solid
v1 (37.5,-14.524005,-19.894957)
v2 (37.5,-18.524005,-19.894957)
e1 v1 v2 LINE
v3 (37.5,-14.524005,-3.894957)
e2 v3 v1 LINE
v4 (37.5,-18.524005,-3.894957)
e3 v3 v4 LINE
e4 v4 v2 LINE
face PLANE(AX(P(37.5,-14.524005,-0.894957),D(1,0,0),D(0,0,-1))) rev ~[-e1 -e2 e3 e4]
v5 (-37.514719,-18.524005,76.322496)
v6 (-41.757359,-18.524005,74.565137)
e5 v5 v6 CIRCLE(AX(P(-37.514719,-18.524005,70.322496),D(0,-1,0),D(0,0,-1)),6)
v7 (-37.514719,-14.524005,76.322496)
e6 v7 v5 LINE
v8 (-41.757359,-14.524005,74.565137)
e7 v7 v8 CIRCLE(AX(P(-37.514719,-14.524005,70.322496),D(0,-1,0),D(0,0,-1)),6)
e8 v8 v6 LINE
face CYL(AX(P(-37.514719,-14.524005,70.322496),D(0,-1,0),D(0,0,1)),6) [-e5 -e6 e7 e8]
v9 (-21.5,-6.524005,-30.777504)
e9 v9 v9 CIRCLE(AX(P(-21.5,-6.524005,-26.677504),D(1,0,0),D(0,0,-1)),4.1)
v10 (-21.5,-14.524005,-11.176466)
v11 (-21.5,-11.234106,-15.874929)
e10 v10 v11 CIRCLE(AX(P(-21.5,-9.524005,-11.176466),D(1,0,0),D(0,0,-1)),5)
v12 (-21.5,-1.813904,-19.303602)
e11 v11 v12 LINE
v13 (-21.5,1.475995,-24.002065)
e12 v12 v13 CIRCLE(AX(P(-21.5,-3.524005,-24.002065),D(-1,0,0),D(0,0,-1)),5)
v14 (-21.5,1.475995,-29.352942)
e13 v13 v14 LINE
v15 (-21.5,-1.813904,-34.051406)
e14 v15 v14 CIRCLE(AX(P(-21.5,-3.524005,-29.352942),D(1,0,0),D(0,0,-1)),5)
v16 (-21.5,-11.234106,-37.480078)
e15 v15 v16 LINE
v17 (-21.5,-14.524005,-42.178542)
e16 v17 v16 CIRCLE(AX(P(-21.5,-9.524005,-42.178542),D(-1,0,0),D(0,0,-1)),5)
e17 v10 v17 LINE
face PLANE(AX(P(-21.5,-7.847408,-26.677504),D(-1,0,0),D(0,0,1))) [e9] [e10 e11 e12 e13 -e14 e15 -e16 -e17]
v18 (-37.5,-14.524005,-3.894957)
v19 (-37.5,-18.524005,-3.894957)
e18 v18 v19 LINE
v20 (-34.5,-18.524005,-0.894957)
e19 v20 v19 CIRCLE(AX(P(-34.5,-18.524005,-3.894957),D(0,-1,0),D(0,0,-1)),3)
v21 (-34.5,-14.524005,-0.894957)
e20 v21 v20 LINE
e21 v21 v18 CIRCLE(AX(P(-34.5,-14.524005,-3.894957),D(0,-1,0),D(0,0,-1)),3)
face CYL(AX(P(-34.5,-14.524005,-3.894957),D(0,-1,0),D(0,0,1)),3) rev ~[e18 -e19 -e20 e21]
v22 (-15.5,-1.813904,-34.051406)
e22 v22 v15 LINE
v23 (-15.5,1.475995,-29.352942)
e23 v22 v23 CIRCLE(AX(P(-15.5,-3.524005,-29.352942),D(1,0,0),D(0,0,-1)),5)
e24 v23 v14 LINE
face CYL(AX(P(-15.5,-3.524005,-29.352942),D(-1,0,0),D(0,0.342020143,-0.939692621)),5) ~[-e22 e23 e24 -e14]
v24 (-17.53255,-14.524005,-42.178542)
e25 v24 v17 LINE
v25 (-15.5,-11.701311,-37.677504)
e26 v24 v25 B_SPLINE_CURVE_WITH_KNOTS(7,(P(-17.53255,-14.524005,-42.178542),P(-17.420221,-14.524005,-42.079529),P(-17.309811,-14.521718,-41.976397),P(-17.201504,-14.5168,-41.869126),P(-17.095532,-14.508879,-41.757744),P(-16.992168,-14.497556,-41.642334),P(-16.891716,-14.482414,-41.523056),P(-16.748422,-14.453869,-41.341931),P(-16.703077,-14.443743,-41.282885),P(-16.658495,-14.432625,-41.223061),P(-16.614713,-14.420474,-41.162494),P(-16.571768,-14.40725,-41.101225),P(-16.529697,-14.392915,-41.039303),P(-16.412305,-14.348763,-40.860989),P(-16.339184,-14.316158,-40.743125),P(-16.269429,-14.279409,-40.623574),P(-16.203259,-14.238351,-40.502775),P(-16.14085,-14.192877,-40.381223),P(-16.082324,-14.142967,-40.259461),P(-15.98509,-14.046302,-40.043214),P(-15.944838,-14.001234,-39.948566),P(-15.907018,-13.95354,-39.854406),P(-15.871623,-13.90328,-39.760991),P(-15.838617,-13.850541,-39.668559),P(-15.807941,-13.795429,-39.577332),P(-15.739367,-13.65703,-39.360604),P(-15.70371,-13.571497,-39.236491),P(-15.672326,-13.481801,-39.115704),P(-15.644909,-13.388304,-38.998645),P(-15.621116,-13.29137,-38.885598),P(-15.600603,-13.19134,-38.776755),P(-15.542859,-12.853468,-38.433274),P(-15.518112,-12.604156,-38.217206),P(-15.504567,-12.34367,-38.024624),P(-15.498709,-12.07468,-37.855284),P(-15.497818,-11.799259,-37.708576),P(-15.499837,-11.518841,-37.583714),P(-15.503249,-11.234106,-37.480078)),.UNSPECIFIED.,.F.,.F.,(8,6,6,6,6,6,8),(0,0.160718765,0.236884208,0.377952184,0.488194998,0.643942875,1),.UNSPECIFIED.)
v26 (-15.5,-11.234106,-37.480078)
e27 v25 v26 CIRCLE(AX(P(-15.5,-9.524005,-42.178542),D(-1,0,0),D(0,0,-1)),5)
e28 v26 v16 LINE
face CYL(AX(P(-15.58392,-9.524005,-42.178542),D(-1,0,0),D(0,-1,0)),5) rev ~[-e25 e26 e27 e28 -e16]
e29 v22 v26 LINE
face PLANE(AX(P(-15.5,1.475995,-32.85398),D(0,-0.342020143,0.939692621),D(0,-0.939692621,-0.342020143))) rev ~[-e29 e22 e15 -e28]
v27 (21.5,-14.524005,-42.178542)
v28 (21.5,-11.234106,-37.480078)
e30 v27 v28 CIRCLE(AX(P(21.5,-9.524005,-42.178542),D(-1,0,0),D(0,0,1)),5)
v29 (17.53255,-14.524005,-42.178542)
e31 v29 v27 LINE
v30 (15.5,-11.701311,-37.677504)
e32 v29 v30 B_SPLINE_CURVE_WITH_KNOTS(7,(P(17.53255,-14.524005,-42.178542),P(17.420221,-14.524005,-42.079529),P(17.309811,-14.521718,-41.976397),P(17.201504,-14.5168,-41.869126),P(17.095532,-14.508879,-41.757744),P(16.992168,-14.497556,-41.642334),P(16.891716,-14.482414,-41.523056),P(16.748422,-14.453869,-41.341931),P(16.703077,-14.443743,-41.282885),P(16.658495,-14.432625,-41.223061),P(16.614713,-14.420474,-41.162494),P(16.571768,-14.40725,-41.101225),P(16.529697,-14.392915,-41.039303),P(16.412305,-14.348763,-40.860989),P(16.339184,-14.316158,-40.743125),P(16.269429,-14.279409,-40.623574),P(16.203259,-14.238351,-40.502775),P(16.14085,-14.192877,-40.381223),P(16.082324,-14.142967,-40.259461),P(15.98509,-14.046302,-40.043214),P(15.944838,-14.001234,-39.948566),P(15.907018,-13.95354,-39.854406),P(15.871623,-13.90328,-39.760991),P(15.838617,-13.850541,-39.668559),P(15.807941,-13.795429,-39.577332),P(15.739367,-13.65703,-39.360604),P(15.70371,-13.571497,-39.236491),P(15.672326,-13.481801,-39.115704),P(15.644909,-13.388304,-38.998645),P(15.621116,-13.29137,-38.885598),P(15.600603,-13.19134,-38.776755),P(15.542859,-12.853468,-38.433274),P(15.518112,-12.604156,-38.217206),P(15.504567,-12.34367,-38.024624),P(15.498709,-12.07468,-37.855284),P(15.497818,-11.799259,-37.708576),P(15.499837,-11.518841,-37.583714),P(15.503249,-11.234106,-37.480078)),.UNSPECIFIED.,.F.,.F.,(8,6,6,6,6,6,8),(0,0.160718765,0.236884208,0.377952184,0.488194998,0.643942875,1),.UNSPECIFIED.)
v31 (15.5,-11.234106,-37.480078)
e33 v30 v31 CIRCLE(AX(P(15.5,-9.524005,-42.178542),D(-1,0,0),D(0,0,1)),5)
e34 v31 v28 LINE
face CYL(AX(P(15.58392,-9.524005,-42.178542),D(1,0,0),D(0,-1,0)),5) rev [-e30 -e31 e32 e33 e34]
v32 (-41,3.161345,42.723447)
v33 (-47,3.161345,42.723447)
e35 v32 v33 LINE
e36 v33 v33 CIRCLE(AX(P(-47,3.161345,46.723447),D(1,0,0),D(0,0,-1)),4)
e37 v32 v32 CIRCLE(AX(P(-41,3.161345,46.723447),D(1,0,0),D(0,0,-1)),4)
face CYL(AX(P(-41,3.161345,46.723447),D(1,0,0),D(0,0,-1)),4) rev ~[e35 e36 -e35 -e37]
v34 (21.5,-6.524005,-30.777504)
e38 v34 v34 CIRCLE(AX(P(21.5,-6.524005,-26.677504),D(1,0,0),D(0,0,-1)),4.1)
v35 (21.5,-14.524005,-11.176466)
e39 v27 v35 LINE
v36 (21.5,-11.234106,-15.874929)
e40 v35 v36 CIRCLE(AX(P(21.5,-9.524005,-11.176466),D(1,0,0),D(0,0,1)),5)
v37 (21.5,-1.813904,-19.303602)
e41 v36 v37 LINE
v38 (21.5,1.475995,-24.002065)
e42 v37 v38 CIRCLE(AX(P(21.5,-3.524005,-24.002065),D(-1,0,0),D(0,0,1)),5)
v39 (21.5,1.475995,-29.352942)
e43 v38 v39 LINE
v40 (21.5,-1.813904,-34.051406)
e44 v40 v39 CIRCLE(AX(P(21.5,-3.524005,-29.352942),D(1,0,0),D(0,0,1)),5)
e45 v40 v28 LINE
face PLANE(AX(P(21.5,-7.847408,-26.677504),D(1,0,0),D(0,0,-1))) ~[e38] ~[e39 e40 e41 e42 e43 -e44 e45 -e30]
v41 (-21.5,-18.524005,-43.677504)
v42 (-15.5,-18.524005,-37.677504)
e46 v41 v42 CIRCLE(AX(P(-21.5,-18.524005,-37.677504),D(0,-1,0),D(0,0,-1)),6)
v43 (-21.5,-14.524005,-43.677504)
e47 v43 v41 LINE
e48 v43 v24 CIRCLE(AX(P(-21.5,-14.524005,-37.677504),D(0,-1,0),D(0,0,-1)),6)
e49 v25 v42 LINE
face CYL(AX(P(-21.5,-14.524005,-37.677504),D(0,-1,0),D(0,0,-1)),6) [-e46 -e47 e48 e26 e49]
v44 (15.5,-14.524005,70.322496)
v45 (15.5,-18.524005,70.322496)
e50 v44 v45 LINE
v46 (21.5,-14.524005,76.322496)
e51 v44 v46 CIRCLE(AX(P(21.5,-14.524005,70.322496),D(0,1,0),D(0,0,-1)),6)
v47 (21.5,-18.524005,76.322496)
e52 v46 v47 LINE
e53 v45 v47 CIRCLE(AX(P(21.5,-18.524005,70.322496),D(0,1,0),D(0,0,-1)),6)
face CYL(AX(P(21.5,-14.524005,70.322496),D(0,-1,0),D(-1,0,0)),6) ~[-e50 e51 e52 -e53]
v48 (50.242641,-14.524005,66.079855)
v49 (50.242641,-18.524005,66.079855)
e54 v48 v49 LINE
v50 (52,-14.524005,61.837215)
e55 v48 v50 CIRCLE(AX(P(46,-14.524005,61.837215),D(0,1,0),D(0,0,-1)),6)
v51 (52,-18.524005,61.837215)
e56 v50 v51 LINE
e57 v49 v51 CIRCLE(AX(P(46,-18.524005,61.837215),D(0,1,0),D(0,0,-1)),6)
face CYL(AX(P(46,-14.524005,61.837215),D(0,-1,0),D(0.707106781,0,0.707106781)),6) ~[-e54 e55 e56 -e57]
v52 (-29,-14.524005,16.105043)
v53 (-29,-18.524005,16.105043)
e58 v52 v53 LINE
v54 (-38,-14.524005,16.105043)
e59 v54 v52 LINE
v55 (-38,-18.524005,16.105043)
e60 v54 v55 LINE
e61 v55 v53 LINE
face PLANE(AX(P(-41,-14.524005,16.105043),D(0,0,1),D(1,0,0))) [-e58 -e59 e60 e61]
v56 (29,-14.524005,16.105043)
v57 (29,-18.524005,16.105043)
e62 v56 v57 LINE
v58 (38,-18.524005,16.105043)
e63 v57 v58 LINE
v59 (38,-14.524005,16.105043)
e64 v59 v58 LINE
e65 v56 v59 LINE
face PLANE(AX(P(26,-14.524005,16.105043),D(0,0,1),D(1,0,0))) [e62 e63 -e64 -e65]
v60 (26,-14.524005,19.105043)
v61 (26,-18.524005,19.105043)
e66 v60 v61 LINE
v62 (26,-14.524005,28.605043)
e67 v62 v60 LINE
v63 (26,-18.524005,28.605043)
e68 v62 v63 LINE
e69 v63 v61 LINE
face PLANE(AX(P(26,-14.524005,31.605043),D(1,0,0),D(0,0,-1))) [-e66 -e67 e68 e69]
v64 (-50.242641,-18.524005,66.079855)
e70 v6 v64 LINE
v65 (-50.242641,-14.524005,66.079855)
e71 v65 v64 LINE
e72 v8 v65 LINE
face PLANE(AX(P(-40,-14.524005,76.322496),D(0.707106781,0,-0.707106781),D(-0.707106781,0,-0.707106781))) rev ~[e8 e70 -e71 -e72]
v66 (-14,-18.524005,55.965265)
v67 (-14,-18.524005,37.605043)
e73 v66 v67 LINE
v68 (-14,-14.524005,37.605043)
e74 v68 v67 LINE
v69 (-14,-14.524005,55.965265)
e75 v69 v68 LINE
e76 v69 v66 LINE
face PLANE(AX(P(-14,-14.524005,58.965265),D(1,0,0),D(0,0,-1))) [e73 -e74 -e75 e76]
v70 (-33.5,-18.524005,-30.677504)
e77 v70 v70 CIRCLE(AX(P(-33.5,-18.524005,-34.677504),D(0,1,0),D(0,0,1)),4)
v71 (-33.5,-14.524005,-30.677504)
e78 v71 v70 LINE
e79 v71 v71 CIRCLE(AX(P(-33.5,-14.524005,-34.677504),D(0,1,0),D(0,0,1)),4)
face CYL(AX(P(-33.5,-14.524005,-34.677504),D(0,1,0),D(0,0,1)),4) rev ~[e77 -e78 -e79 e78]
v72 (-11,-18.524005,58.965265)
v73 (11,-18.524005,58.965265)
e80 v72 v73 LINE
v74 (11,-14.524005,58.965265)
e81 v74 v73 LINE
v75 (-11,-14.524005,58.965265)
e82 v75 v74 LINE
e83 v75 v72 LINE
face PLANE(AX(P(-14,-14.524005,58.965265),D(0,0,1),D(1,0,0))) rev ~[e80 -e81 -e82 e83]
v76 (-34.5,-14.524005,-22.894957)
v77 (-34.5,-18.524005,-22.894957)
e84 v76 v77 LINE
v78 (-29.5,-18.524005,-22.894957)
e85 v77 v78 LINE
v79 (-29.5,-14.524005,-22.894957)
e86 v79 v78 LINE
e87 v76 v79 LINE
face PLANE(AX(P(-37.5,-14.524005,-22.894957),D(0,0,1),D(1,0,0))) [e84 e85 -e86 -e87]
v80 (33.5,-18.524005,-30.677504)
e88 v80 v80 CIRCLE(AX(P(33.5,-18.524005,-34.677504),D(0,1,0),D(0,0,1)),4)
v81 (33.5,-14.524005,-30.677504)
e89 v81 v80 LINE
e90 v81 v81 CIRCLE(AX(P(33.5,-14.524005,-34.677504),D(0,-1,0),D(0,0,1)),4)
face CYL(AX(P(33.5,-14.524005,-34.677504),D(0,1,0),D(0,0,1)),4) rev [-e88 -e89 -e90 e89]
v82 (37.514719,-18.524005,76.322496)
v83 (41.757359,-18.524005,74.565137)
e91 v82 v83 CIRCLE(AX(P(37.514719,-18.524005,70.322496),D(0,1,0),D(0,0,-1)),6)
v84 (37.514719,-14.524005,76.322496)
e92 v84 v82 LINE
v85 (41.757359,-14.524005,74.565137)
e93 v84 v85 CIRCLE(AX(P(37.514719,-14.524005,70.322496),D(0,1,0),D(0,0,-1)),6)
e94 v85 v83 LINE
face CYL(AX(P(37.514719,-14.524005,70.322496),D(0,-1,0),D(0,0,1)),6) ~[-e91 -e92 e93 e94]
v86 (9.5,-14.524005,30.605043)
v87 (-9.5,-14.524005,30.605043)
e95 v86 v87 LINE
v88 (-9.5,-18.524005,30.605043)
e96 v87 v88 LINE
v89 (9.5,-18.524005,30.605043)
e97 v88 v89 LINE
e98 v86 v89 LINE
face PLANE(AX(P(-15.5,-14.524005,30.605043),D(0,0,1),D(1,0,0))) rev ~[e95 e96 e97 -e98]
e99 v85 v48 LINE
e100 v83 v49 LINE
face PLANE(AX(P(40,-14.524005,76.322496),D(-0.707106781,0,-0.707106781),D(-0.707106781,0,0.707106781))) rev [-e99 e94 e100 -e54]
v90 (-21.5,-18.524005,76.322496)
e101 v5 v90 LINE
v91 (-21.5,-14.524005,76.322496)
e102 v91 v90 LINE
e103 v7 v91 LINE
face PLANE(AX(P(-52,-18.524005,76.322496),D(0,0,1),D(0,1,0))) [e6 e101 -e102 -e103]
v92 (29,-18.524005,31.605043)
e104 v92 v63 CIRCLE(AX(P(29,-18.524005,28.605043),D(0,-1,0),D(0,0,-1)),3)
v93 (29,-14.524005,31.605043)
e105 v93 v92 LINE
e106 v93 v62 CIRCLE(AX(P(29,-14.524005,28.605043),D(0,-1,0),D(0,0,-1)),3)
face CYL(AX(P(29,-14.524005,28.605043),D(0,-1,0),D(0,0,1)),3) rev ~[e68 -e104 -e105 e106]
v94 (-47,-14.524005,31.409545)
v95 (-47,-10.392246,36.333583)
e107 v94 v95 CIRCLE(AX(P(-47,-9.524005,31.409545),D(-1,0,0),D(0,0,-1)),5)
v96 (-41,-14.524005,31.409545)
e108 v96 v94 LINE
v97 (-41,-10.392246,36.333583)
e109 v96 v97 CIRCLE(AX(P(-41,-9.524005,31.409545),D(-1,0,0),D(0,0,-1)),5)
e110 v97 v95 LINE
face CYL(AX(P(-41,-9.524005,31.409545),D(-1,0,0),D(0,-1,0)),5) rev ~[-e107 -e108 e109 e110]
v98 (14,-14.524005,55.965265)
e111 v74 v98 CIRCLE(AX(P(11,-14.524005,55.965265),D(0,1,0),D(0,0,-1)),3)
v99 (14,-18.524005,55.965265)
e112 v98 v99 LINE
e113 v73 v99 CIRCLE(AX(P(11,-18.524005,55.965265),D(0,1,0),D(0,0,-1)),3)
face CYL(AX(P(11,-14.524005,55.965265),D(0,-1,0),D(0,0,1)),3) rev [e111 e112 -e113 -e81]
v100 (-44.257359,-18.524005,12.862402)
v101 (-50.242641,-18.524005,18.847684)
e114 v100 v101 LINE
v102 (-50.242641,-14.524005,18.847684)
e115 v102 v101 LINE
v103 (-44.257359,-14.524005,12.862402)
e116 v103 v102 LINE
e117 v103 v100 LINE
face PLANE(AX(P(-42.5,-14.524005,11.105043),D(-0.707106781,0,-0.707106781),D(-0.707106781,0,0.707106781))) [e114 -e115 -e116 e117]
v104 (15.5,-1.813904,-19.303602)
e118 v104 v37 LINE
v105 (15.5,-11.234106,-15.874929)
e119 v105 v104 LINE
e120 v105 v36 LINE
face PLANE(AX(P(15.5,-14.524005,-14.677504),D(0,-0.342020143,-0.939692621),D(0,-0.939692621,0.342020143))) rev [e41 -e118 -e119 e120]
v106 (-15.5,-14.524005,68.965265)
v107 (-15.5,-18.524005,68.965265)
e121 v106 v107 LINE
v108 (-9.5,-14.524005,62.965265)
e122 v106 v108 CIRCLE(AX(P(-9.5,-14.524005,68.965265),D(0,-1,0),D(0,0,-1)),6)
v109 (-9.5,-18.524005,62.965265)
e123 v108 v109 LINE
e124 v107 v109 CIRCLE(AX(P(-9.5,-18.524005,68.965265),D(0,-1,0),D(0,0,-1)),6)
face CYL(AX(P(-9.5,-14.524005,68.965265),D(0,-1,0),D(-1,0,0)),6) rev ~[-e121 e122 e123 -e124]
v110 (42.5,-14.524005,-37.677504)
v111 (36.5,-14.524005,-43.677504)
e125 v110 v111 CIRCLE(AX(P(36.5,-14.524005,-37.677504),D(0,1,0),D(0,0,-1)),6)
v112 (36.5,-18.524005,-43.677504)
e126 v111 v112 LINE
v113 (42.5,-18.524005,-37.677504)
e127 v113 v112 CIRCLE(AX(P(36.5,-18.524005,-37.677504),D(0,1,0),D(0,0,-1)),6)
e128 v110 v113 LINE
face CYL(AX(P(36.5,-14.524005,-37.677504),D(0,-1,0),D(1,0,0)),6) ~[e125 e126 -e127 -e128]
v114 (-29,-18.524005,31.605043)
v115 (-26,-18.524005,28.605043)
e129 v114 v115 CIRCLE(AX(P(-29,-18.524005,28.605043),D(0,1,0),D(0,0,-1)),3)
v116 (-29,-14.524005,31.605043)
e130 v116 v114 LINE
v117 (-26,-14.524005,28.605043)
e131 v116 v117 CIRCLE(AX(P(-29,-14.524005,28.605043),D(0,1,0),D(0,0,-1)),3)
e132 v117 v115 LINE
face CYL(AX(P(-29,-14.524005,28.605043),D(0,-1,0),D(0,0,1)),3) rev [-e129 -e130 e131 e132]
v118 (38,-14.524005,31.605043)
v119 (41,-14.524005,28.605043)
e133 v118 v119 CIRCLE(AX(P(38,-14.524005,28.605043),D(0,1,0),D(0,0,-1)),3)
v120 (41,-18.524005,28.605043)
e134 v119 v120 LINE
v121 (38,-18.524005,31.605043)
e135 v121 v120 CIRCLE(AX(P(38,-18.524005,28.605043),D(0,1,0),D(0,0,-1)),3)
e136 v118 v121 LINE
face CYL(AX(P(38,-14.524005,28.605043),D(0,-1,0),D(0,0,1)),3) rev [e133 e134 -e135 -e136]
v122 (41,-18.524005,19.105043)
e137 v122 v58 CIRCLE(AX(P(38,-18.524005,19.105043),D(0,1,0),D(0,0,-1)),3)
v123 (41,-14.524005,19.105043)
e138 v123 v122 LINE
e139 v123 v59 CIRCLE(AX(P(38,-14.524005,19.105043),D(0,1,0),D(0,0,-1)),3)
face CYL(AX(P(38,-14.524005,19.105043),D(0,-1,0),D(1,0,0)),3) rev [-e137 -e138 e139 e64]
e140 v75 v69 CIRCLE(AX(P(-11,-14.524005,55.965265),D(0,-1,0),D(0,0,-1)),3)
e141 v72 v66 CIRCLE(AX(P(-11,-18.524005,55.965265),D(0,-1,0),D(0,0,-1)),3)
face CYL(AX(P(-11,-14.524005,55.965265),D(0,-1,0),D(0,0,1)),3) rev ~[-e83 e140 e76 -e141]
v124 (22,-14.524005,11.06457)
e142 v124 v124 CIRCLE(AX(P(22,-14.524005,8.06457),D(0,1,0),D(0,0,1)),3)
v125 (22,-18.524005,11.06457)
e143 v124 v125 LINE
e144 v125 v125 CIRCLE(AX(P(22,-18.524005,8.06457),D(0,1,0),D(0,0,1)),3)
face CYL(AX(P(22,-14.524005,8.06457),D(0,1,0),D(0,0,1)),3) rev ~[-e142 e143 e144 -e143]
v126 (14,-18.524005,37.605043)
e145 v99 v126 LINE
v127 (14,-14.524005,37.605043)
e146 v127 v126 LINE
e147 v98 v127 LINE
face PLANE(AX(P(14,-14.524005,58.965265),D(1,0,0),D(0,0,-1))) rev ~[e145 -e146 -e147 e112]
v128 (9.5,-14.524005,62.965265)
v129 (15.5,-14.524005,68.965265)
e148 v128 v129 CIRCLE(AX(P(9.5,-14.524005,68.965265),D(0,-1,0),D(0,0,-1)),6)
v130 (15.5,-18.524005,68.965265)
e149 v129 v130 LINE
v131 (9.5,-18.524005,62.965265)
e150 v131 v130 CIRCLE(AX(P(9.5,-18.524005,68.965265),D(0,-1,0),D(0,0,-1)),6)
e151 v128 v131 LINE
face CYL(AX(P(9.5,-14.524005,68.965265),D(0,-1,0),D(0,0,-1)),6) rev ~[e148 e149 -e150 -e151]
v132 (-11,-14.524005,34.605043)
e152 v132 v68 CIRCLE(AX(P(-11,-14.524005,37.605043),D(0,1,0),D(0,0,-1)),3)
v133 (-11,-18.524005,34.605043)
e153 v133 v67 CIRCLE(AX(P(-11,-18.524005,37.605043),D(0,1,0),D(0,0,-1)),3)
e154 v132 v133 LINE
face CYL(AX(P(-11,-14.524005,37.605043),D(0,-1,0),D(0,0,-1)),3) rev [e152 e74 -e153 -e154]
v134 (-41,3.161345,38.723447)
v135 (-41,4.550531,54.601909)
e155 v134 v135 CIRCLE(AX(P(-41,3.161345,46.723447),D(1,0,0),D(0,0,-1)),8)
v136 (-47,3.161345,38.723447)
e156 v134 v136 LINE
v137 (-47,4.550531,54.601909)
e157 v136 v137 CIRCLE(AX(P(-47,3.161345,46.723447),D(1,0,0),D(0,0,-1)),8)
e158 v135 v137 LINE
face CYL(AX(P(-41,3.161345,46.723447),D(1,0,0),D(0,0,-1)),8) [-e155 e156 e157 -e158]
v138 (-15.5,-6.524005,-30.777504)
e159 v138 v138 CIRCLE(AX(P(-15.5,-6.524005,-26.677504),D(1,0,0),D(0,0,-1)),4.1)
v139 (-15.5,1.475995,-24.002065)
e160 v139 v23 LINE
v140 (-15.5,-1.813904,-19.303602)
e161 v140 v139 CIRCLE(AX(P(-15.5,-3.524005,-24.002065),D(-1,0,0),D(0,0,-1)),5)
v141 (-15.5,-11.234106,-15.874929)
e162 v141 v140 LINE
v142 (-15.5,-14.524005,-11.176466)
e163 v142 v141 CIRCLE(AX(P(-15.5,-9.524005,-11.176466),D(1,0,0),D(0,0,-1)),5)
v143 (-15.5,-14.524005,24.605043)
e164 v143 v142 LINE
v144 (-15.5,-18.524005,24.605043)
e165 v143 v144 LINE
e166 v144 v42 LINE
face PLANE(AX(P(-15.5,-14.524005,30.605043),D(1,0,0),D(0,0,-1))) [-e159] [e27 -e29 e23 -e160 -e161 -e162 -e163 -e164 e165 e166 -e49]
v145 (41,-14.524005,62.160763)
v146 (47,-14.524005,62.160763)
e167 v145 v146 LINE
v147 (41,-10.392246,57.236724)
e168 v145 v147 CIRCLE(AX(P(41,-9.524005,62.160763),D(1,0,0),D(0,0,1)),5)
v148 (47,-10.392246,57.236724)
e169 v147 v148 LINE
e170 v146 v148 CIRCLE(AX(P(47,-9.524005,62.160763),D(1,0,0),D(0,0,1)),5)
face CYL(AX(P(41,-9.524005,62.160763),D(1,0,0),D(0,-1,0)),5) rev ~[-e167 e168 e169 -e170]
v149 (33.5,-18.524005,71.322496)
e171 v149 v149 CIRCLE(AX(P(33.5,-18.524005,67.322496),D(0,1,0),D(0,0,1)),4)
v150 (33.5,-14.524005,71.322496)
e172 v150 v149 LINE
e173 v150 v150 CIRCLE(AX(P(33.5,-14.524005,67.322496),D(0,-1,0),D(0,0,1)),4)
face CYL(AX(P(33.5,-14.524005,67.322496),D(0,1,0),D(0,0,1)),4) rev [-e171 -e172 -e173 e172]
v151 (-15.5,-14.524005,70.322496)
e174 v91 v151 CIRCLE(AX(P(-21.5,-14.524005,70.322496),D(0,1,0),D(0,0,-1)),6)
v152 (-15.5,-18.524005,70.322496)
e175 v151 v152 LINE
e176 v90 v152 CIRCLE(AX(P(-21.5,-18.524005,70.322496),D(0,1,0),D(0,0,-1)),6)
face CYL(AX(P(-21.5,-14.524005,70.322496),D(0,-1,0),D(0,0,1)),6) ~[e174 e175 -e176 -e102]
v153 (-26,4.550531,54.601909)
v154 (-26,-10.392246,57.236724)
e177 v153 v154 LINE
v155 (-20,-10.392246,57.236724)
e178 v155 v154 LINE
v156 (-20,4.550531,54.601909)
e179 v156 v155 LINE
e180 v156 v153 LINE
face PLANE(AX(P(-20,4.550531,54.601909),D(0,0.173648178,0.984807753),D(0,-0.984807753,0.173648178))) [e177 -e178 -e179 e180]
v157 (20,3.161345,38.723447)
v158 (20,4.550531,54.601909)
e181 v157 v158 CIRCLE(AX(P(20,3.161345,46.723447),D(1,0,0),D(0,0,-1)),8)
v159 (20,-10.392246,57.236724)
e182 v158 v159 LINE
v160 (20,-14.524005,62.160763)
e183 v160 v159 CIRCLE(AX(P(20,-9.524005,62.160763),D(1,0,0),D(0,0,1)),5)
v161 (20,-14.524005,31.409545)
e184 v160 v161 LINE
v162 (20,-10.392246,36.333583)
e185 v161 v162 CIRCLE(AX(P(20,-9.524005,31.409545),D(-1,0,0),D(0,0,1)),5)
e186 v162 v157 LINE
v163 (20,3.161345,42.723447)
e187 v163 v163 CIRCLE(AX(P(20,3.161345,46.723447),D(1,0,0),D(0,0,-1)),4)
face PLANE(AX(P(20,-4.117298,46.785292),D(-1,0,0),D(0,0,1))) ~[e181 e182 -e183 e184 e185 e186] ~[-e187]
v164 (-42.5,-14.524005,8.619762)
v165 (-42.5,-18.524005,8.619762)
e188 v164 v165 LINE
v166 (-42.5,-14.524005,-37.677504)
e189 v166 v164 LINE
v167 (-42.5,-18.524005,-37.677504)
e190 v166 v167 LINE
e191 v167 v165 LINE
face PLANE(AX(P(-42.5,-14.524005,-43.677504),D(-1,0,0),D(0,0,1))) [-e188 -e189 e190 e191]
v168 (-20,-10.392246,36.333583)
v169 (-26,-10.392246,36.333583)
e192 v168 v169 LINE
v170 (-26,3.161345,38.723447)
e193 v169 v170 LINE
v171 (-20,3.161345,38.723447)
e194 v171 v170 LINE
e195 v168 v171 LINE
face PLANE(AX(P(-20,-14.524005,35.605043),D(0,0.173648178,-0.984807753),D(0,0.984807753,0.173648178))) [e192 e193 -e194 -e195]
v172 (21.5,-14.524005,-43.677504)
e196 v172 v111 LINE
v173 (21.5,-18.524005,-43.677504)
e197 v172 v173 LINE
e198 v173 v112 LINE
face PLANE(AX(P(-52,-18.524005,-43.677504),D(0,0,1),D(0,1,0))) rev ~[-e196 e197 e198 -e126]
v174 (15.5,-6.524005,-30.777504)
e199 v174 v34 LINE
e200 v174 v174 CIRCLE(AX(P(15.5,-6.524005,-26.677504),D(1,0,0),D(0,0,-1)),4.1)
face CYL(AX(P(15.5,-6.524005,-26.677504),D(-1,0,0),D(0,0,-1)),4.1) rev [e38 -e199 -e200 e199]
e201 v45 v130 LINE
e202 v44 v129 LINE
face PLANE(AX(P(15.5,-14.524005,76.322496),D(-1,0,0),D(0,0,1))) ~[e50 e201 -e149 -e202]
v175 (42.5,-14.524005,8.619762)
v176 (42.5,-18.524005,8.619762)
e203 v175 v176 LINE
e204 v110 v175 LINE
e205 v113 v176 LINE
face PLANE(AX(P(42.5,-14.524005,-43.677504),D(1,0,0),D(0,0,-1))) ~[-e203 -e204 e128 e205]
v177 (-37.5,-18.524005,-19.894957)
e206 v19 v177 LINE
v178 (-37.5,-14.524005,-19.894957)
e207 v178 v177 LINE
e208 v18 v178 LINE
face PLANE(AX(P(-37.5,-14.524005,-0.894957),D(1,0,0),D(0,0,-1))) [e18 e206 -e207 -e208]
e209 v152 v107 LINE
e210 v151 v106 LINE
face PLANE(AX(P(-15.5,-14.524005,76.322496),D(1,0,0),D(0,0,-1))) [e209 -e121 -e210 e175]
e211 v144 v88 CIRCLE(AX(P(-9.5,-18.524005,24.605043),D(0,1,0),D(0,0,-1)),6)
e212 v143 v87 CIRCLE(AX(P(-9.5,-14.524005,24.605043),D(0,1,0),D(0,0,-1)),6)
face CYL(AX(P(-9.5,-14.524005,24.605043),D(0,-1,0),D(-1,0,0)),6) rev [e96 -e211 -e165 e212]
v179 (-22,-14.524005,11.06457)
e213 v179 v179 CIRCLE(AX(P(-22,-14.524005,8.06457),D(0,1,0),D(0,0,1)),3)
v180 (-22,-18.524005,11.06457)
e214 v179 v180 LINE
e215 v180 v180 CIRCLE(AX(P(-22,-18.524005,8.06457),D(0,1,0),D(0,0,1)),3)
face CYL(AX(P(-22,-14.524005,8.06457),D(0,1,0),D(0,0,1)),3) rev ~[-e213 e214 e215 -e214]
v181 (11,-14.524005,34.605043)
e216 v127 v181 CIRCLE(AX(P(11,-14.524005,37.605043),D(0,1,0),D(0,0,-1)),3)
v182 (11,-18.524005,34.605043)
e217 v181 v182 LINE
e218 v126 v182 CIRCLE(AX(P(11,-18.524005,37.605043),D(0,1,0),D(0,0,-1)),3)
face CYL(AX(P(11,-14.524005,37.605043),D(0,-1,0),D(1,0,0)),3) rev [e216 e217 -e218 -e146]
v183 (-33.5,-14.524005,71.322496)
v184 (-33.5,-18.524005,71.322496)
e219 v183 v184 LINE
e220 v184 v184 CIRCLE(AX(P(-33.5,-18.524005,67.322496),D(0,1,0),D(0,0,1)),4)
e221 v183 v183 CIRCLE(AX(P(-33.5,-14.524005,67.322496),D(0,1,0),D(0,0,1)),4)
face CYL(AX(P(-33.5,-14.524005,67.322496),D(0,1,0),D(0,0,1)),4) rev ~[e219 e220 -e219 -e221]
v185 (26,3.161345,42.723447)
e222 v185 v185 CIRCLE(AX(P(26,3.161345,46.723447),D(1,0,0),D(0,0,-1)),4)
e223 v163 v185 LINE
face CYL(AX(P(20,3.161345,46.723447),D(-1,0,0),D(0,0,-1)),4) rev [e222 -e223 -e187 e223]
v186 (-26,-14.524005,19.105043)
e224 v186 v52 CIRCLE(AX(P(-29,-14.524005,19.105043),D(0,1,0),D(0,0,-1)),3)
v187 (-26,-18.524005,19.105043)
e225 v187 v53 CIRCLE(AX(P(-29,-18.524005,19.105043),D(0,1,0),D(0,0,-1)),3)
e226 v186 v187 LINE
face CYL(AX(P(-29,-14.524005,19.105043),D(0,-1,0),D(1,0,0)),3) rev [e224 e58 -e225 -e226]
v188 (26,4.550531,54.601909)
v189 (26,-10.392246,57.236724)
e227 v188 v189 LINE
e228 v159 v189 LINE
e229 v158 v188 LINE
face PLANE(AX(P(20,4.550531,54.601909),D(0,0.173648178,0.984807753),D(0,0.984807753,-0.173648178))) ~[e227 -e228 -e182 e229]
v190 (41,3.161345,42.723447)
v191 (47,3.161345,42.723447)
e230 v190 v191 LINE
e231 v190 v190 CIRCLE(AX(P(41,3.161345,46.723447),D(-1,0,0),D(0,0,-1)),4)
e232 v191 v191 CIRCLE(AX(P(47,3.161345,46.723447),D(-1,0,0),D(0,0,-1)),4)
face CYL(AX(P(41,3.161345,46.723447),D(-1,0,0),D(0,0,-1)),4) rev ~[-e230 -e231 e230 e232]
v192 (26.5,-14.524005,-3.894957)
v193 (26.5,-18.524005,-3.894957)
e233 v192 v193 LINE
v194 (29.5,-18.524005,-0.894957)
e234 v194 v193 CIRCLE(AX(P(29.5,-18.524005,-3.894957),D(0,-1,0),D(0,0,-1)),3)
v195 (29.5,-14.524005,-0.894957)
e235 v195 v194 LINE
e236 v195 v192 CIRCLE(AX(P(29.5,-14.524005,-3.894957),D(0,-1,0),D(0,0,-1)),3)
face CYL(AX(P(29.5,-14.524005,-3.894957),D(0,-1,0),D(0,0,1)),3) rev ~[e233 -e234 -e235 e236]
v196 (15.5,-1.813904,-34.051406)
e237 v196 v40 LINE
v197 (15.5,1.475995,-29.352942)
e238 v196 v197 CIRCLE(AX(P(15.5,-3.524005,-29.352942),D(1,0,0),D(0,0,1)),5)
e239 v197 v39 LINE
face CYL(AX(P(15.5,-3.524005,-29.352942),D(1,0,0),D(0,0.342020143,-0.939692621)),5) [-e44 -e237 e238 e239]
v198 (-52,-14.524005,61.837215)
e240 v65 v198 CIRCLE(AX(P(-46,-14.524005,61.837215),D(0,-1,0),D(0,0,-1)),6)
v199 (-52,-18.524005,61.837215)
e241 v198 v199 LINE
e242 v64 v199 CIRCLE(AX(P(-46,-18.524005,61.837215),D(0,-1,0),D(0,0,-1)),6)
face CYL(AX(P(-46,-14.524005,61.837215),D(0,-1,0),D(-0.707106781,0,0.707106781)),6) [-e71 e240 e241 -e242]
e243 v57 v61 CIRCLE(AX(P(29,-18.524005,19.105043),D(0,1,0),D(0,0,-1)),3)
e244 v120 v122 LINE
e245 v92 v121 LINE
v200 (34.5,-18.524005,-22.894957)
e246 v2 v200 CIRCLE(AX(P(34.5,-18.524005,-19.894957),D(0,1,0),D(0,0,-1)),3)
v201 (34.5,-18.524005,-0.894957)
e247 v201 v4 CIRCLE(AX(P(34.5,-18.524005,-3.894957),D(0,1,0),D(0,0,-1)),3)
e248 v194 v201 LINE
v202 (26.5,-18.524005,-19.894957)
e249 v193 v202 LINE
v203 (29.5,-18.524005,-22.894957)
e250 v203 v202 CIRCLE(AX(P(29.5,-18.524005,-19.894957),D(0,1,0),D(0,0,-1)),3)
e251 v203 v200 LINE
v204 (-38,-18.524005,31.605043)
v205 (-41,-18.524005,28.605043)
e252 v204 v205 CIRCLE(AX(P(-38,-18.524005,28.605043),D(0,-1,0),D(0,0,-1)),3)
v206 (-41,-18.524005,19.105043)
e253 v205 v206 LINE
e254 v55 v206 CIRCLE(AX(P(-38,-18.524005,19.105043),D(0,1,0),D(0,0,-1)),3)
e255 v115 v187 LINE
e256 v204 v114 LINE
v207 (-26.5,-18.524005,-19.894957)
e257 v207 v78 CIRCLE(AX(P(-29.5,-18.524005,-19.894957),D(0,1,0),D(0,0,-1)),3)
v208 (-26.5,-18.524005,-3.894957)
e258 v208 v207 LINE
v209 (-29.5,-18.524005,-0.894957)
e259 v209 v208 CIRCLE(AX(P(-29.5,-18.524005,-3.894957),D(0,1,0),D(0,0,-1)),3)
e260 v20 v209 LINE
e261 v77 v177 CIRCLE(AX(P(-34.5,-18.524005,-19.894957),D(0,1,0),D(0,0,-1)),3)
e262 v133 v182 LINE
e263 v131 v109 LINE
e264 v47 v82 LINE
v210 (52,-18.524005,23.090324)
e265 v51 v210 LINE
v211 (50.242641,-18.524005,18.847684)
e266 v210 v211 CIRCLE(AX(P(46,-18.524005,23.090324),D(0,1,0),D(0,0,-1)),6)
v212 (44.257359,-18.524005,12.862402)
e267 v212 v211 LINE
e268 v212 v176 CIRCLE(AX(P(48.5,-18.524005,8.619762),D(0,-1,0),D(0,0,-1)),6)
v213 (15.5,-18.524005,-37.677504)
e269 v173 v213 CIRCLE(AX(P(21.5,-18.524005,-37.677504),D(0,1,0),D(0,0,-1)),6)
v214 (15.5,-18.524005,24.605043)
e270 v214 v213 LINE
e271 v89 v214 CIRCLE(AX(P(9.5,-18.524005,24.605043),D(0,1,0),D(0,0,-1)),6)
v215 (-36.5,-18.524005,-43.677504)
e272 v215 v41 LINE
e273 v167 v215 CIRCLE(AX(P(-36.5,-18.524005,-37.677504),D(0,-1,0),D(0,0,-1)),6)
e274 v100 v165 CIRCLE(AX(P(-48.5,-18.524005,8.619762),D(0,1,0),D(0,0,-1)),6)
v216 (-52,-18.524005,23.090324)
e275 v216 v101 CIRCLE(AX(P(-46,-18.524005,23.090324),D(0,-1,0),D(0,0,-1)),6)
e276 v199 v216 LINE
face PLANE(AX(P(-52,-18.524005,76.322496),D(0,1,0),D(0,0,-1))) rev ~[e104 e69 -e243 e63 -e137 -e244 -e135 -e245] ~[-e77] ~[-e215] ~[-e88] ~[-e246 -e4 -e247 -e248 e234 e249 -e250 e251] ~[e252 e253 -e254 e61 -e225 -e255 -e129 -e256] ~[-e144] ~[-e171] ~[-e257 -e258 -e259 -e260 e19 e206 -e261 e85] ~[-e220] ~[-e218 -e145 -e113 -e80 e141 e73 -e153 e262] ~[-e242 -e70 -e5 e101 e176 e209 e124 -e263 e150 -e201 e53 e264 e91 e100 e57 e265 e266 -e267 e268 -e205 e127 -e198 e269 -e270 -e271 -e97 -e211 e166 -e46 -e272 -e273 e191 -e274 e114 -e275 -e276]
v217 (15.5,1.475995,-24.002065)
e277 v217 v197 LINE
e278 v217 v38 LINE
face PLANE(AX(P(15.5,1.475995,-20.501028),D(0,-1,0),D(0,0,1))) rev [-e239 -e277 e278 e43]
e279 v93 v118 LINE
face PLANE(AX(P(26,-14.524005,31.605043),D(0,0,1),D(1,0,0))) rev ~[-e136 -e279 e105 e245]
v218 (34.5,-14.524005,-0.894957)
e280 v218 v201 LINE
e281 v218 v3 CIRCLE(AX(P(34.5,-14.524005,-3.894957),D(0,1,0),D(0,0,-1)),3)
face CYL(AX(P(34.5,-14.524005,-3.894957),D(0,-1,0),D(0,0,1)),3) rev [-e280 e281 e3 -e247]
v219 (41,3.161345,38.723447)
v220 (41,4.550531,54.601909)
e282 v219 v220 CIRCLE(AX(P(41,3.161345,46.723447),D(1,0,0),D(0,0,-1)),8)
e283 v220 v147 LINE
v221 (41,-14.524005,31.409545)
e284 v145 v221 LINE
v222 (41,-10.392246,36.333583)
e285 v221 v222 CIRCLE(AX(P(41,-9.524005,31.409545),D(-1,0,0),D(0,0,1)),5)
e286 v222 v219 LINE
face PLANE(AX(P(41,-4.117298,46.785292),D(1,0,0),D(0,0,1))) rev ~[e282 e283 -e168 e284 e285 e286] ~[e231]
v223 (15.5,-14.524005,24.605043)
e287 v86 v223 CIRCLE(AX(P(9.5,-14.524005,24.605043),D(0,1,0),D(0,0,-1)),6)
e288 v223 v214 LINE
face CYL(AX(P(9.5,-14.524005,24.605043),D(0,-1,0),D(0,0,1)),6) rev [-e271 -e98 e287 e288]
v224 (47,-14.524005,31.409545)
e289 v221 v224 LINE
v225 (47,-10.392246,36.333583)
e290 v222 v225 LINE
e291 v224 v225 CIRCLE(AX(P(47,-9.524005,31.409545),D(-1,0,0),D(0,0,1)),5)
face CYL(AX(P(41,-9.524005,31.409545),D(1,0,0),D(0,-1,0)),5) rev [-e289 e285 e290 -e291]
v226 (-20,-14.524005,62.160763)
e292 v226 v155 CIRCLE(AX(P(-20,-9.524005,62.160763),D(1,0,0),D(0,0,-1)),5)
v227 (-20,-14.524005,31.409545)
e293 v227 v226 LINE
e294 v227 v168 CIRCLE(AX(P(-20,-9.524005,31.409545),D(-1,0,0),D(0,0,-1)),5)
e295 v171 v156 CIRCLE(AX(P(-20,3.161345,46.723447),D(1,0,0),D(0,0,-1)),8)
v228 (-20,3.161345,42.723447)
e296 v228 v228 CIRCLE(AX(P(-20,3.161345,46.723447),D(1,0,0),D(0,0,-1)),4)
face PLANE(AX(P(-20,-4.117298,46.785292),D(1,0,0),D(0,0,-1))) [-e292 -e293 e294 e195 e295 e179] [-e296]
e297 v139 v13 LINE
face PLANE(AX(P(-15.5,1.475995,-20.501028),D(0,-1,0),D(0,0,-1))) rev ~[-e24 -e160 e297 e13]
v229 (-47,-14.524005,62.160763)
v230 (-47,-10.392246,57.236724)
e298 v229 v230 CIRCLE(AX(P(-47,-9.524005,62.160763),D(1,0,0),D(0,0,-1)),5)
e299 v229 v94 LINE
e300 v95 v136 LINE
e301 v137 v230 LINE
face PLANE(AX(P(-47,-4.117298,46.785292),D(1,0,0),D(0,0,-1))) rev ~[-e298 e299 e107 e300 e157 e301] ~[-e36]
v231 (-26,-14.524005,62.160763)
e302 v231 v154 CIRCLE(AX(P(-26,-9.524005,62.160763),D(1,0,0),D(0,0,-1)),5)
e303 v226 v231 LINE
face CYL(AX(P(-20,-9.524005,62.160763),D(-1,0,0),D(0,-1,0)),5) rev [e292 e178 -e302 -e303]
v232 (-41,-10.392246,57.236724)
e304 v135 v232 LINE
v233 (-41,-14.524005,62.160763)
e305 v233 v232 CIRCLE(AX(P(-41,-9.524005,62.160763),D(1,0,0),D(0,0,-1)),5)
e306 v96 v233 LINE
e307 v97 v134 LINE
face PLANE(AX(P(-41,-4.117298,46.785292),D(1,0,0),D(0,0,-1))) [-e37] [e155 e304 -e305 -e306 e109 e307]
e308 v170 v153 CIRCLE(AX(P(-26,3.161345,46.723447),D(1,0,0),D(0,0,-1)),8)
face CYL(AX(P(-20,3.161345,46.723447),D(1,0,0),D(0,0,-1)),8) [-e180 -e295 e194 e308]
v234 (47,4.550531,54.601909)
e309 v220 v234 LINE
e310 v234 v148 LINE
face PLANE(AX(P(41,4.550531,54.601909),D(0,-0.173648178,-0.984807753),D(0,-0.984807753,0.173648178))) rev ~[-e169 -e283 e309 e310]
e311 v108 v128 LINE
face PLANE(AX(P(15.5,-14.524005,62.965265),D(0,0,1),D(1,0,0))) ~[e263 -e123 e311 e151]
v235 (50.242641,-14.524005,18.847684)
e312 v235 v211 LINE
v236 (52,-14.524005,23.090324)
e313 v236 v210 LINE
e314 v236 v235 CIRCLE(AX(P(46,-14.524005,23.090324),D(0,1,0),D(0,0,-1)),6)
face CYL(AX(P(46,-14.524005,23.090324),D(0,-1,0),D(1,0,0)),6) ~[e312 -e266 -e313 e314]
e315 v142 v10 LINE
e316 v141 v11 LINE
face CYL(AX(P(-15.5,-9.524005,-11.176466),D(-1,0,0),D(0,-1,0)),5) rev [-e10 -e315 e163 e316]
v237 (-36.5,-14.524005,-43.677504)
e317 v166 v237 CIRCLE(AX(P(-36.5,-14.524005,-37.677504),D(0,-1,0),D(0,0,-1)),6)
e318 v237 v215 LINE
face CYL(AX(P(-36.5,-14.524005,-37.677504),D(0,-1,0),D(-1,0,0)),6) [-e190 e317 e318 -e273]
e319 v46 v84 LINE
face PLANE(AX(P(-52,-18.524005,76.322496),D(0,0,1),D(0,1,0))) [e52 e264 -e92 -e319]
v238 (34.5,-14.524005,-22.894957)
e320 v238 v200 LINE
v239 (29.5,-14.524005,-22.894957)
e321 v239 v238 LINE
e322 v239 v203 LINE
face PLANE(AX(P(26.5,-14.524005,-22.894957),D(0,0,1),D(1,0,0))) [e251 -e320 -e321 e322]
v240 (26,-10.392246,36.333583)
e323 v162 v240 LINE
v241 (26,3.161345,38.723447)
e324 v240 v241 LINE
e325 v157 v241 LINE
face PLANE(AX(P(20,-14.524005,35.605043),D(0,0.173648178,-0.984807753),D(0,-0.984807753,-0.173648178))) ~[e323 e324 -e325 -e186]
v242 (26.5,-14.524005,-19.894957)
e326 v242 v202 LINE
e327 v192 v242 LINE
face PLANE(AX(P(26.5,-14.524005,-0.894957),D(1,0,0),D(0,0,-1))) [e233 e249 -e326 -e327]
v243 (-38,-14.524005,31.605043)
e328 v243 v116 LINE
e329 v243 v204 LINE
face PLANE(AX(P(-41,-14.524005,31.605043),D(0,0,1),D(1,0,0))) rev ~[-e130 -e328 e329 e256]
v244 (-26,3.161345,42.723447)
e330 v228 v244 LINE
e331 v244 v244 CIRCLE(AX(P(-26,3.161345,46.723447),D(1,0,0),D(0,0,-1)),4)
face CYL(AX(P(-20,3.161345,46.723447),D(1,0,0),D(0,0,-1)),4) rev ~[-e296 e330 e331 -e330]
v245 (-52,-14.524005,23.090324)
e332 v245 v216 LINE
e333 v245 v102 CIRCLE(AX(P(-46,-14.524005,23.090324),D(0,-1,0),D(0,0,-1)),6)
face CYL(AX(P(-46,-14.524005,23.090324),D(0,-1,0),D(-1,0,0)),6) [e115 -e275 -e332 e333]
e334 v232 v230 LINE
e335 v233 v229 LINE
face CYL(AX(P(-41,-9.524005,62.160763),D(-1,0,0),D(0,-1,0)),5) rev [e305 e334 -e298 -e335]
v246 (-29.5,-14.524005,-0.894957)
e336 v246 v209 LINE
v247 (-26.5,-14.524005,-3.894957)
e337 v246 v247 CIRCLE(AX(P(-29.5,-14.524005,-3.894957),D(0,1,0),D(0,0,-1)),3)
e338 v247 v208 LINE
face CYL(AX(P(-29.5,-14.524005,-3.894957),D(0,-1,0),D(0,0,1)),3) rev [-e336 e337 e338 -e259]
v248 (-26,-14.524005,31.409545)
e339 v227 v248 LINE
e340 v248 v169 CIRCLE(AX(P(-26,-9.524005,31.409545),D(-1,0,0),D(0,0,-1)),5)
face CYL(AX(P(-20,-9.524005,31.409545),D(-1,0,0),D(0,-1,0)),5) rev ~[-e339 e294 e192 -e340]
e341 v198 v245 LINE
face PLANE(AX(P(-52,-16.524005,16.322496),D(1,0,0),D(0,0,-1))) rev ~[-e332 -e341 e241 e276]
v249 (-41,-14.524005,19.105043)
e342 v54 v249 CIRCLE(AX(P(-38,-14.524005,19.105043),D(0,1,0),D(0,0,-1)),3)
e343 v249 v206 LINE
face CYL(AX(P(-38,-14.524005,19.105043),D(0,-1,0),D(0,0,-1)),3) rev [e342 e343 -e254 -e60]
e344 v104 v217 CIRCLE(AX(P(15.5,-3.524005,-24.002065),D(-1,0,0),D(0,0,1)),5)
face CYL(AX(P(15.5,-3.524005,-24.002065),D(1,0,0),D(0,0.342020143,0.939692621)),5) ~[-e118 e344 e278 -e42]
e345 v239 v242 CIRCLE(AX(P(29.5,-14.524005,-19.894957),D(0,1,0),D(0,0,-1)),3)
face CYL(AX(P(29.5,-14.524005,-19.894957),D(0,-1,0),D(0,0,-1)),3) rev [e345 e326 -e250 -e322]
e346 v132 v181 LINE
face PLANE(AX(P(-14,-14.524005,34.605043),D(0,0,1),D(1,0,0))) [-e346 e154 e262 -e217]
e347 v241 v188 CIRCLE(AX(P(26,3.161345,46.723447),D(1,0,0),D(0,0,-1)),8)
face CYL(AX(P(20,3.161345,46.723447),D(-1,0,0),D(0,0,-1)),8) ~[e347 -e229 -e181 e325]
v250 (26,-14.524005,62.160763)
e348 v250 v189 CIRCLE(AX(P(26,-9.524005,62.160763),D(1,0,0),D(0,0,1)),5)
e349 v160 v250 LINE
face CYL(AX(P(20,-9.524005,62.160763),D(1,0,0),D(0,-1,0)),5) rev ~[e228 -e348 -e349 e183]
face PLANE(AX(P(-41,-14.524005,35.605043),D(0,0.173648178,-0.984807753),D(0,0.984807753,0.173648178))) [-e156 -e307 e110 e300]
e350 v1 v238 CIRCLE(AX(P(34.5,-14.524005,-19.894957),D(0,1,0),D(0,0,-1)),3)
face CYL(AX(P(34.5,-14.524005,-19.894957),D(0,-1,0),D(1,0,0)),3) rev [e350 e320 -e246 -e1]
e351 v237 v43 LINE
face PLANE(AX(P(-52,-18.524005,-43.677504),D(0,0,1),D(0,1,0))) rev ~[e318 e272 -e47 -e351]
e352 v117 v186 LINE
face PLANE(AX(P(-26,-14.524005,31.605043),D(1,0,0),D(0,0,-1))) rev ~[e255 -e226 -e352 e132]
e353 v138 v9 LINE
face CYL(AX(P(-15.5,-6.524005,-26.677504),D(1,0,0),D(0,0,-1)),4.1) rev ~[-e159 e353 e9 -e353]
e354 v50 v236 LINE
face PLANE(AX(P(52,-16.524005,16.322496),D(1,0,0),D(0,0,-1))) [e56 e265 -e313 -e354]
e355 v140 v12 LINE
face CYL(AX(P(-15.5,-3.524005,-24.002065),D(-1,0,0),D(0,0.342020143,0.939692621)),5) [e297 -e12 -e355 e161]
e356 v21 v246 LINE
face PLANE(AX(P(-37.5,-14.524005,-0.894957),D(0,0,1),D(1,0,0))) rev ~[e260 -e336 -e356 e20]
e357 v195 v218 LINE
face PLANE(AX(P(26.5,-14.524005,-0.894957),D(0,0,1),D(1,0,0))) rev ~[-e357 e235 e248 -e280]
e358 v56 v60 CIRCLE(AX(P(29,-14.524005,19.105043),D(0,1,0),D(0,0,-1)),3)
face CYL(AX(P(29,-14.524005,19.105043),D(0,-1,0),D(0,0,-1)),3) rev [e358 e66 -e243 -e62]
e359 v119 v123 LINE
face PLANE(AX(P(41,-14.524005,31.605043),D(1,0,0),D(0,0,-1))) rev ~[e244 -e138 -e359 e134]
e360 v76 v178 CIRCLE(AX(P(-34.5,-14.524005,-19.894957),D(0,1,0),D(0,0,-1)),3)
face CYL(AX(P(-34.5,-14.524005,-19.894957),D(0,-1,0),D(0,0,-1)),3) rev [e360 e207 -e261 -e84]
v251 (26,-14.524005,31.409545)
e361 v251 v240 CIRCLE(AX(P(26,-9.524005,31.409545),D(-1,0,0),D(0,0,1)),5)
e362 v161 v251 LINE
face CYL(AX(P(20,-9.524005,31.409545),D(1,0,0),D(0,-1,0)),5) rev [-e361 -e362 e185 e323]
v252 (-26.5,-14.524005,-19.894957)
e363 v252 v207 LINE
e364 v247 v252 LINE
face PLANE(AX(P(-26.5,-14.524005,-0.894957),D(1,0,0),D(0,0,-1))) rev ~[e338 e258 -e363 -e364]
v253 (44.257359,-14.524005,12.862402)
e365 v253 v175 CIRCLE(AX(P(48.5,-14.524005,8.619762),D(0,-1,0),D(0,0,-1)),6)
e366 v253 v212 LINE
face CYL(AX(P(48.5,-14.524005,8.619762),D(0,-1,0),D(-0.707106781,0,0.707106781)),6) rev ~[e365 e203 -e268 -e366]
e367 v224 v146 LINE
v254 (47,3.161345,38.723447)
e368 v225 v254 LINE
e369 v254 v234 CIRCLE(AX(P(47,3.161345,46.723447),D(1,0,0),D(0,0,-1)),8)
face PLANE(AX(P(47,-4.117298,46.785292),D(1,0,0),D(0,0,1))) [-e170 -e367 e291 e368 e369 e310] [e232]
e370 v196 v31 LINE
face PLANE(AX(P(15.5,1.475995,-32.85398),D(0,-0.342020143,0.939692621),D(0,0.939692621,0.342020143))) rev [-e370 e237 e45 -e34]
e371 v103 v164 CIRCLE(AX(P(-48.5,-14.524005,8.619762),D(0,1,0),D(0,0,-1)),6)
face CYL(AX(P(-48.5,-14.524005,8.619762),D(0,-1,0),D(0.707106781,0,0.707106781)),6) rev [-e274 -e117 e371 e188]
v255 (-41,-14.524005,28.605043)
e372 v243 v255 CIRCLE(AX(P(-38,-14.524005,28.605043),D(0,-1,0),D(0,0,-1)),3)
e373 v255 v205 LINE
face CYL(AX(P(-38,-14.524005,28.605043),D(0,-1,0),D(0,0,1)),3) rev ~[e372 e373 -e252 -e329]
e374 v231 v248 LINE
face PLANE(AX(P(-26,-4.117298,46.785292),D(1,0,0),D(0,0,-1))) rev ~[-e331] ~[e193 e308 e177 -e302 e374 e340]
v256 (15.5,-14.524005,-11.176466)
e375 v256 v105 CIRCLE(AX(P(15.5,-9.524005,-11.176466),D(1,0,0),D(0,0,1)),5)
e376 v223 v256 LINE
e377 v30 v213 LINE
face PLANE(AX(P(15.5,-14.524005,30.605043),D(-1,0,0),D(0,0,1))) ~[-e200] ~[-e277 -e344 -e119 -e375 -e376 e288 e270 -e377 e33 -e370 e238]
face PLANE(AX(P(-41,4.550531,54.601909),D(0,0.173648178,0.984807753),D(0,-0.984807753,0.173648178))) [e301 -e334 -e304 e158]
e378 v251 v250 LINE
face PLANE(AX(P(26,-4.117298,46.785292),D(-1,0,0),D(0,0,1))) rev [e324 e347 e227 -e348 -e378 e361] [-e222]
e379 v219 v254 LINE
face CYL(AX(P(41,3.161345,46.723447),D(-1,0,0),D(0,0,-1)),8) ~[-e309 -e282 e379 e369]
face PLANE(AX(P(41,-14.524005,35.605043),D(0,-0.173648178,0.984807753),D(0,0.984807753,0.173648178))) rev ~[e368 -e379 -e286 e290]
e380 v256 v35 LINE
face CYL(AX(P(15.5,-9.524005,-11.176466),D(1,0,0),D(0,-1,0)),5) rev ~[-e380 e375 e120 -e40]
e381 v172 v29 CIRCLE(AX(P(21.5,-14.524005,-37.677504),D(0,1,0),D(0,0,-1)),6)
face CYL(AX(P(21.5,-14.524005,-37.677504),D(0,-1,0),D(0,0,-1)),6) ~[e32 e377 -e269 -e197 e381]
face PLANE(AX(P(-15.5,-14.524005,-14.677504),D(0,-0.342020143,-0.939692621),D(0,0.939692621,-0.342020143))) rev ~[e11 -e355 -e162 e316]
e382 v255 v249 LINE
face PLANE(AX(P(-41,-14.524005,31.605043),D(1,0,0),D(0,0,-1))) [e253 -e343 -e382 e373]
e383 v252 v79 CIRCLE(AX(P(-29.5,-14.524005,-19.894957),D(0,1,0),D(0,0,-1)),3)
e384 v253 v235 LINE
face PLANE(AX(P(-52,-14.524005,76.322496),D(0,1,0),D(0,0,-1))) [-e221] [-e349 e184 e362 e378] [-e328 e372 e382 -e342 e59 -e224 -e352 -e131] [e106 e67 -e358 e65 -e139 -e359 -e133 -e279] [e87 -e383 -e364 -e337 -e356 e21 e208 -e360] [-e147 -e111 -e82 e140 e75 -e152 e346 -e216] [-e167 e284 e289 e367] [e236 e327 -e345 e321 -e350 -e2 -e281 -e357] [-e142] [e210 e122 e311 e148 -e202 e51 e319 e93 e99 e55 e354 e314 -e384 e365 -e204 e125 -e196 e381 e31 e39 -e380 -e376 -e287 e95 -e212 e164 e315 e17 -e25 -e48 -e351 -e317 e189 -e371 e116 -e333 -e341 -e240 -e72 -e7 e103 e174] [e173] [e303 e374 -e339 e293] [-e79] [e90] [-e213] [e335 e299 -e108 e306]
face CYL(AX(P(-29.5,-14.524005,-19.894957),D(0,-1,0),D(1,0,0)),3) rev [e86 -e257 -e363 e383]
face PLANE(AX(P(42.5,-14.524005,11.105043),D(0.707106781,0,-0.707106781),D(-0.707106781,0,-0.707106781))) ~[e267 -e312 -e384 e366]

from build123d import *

# Parameters (mm, degrees)
BOSS_EXTRUDE1_DEPTH      = 52
BOSS_EXTRUDE1_DEPTH_BACK = 52
SKETCH1_W                = 120
SKETCH1_H                = 4
BOSS_EXTRUDE2_START      = -20
SKETCH1_3_R              = 4
BOSS_EXTRUDE2_DEPTH      = 6
LPATTERN1_COUNT          = 2
LPATTERN1_PITCH          = 21
BOSS_EXTRUDE3_START      = -15.5
SKETCH1_4_R              = 4.1
BOSS_EXTRUDE3_DEPTH      = 6
SKETCH2_R                = 4
SKETCH2_W                = 15.5
SKETCH2_H                = 74.282546786
SKETCH2_H_2              = 13.357231507
CUT_EXTRUDE1_DEPTH       = 96.858544882
MIRROR2_START            = -20
MIRROR2_COPY_1_SKETCH_R  = 4
MIRROR2_COPY_1_DEPTH     = 6
SKETCH4_R                = 3
CUT_EXTRUDE2_DEPTH       = 10
SKETCH5_W                = 15
SKETCH5_H                = 15.5
SKETCH5_W_2              = 11
SKETCH5_H_2              = 22
SKETCH5_W_3              = 28
SKETCH5_H_3              = 24.360221707
CUT_EXTRUDE3_DEPTH       = 10
FILLET1_R                = 6
FILLET2_R                = 3
FILLET3_R                = 5


with BuildPart() as part:
    # Sketch1 → Boss-Extrude1 (new, two sides: drawn at the far end of the back side and taken through both)
    with BuildSketch(Plane(origin=(0, 0, 0), x_dir=(0, 0, -1), z_dir=(1, 0, 0)).offset(-BOSS_EXTRUDE1_DEPTH_BACK)):
        with Locations((-16.322496103, -16.524005043)):
            Rectangle(SKETCH1_W, SKETCH1_H)
    extrude(amount=BOSS_EXTRUDE1_DEPTH + BOSS_EXTRUDE1_DEPTH_BACK)

    # Sketch1<3> → Boss-Extrude2 (add)
    with BuildSketch(Plane(origin=(0, 0, 0), x_dir=(0, 0, -1), z_dir=(1, 0, 0)).offset(BOSS_EXTRUDE2_START)):
        with BuildLine():
            Line((-54.601909319, 4.550530592), (-57.965264596, -14.524005043))
            Line((-57.965264596, -14.524005043), (-35.605042889, -14.524005043))
            Line((-35.605042889, -14.524005043), (-38.723447295, 3.161345171))
            ThreePointArc((-38.723447295, 3.161345171), (-46.026201353, 11.130902756), (-54.601909319, 4.550530592))
        make_face()
        with Locations((-46.723447295, 3.161345171)):
            Circle(SKETCH1_3_R, mode=Mode.SUBTRACT)
    boss_extrude2 = extrude(amount=-BOSS_EXTRUDE2_DEPTH)

    # LPattern1: Boss-Extrude2 ×2
    with Locations(*[(-i * LPATTERN1_PITCH, 0, 0) for i in range(1, LPATTERN1_COUNT)]):
        add(boss_extrude2)

    # Sketch1<4> → Boss-Extrude3 (add)
    with BuildSketch(Plane(origin=(0, 0, 0), x_dir=(0, 0, -1), z_dir=(1, 0, 0)).offset(BOSS_EXTRUDE3_START)):
        Polygon((14.677503897, -14.524005043), (20.501027646, 1.475994957), (32.853980149, 1.475994957), (38.677503897, -14.524005043), align=None)
        with Locations((26.677503897, -6.524005043)):
            Circle(SKETCH1_4_R, mode=Mode.SUBTRACT)
    boss_extrude3 = extrude(amount=-BOSS_EXTRUDE3_DEPTH)

    # Sketch2 → Cut-Extrude1 (cut, through all)
    with BuildSketch(Plane(origin=(0, -14.524005043, 0), x_dir=(1, 0, 0), z_dir=(0, 1, 0))):
        with Locations((-33.5, -67.322496103)):
            Circle(SKETCH2_R)
        with Locations((-33.5, 34.677503897)):
            Circle(SKETCH2_R)
        Polygon((-52, -76.322496103), (-40, -76.322496103), (-52, -64.322496103), align=None)
        Polygon((-42.5, 43.677503897), (-42.5, -11.105042889), (-52, -20.605042889), (-52, 43.677503897), align=None)
        with Locations((-7.75, 6.536230504)):
            Rectangle(SKETCH2_W, SKETCH2_H)
        with Locations((-7.75, -69.64388035)):
            Rectangle(SKETCH2_W, SKETCH2_H_2)
    cut_extrude1 = extrude(amount=-CUT_EXTRUDE1_DEPTH, mode=Mode.SUBTRACT)

    # Mirror2: Boss-Extrude2, Boss-Extrude3, Cut-Extrude1 across plane
    add(boss_extrude2.mirror(Plane(origin=(0, 0, 0), x_dir=(0, 0, 1), z_dir=(1, 0, 0))))
    add(boss_extrude3.mirror(Plane(origin=(0, 0, 0), x_dir=(0, 0, 1), z_dir=(1, 0, 0))))
    add(cut_extrude1.mirror(Plane(origin=(0, 0, 0), x_dir=(0, 0, 1), z_dir=(1, 0, 0))), mode=Mode.SUBTRACT)

    # Mirror2 copy 1 sketch → Mirror2 copy 1 (add)
    with BuildSketch(Plane(origin=(21, 0, 0), x_dir=(0, 0, -1), z_dir=(-1, 0, 0)).offset(MIRROR2_START)):
        with BuildLine():
            Line((-54.601909319, -4.550530592), (-57.965264596, 14.524005043))
            Line((-57.965264596, 14.524005043), (-35.605042889, 14.524005043))
            Line((-35.605042889, 14.524005043), (-38.723447295, -3.161345171))
            ThreePointArc((-38.723447295, -3.161345171), (-46.026201353, -11.130902756), (-54.601909319, -4.550530592))
        make_face()
        with Locations((-46.723447295, -3.161345171)):
            Circle(MIRROR2_COPY_1_SKETCH_R, mode=Mode.SUBTRACT)
    extrude(amount=-MIRROR2_COPY_1_DEPTH)

    # Sketch4 → Cut-Extrude2 (cut)
    with BuildSketch(Plane(origin=(0, -14.524005043, 0), x_dir=(1, 0, 0), z_dir=(0, 1, 0))):
        with Locations((22, -8.064569544)):
            Circle(SKETCH4_R)
        with Locations((-22, -8.064569544)):
            Circle(SKETCH4_R)
    extrude(amount=-CUT_EXTRUDE2_DEPTH, mode=Mode.SUBTRACT)

    # Sketch5 → Cut-Extrude3 (cut)
    with BuildSketch(Plane(origin=(0, -14.524005043, 0), x_dir=(1, 0, 0), z_dir=(0, 1, 0))):
        with Locations((-33.5, -23.855042889)):
            Rectangle(SKETCH5_W, SKETCH5_H)
        with Locations((-32, 11.894957111)):
            Rectangle(SKETCH5_W_2, SKETCH5_H_2)
        with Locations((0, -46.785153743)):
            Rectangle(SKETCH5_W_3, SKETCH5_H_3)
        with Locations((33.5, -23.855042889)):
            Rectangle(SKETCH5_W, SKETCH5_H)
        with Locations((32, 11.894957111)):
            Rectangle(SKETCH5_W_2, SKETCH5_H_2)
    extrude(amount=-CUT_EXTRUDE3_DEPTH, mode=Mode.SUBTRACT)

    # Fillet1
    fillet1_edges = [part.edges().sort_by_distance(p)[0] for p in [
        (40, -16.524005043, 76.322496103),
        (52, -16.524005043, 64.322496103),
        (52, -16.524005043, 20.605042889),
        (42.5, -16.524005043, 11.105042889),
        (42.5, -16.524005043, -43.677503897),
        (15.5, -16.524005043, -43.677503897),
        (-15.5, -16.524005043, -43.677503897),
        (-42.5, -16.524005043, -43.677503897),
        (-42.5, -16.524005043, 11.105042889),
        (-52, -16.524005043, 20.605042889),
        (-52, -16.524005043, 64.322496103),
        (-40, -16.524005043, 76.322496103),
        (15.5, -16.524005043, 76.322496103),
        (-15.5, -16.524005043, 76.322496103),
        (15.5, -16.524005043, 62.965264596),
        (-15.5, -16.524005043, 62.965264596),
        (-15.5, -16.524005043, 30.605042889),
        (15.5, -16.524005043, 30.605042889),
    ]]
    fillet(fillet1_edges, radius=FILLET1_R)

    # Fillet2
    fillet2_edges = [part.edges().sort_by_distance(p)[0] for p in [
        (-37.5, -16.524005043, -22.894957111),
        (-26.5, -16.524005043, -22.894957111),
        (-26.5, -16.524005043, -0.894957111),
        (-37.5, -16.524005043, -0.894957111),
        (-41, -16.524005043, 31.605042889),
        (-26, -16.524005043, 31.605042889),
        (-41, -16.524005043, 16.105042889),
        (-26, -16.524005043, 16.105042889),
        (37.5, -16.524005043, -22.894957111),
        (26.5, -16.524005043, -22.894957111),
        (37.5, -16.524005043, -0.894957111),
        (26.5, -16.524005043, -0.894957111),
        (41, -16.524005043, 16.105042889),
        (26, -16.524005043, 16.105042889),
        (26, -16.524005043, 31.605042889),
        (41, -16.524005043, 31.605042889),
        (14, -16.524005043, 58.965264596),
        (14, -16.524005043, 34.605042889),
        (-14, -16.524005043, 34.605042889),
        (-14, -16.524005043, 58.965264596),
    ]]
    fillet(fillet2_edges, radius=FILLET2_R)

    # Fillet3
    fillet3_edges = [part.edges().sort_by_distance(p)[0] for p in [
        (-44, -14.524005043, 57.965264596),
        (-23, -14.524005043, 57.965264596),
        (23, -14.524005043, 57.965264596),
        (44, -14.524005043, 57.965264596),
        (-44, -14.524005043, 35.605042889),
        (-23, -14.524005043, 35.605042889),
        (23, -14.524005043, 35.605042889),
        (44, -14.524005043, 35.605042889),
        (-18.5, 1.475994957, -20.501027646),
        (-18.5, -14.524005043, -14.677503897),
        (-18.5, 1.475994957, -32.853980149),
        (-18.541960108, -14.524005043, -38.677503897),
        (18.541960108, -14.524005043, -38.677503897),
        (18.5, 1.475994957, -32.853980149),
        (18.5, 1.475994957, -20.501027646),
        (18.5, -14.524005043, -14.677503897),
    ]]
    fillet(fillet3_edges, radius=FILLET3_R)


solid = part.part
